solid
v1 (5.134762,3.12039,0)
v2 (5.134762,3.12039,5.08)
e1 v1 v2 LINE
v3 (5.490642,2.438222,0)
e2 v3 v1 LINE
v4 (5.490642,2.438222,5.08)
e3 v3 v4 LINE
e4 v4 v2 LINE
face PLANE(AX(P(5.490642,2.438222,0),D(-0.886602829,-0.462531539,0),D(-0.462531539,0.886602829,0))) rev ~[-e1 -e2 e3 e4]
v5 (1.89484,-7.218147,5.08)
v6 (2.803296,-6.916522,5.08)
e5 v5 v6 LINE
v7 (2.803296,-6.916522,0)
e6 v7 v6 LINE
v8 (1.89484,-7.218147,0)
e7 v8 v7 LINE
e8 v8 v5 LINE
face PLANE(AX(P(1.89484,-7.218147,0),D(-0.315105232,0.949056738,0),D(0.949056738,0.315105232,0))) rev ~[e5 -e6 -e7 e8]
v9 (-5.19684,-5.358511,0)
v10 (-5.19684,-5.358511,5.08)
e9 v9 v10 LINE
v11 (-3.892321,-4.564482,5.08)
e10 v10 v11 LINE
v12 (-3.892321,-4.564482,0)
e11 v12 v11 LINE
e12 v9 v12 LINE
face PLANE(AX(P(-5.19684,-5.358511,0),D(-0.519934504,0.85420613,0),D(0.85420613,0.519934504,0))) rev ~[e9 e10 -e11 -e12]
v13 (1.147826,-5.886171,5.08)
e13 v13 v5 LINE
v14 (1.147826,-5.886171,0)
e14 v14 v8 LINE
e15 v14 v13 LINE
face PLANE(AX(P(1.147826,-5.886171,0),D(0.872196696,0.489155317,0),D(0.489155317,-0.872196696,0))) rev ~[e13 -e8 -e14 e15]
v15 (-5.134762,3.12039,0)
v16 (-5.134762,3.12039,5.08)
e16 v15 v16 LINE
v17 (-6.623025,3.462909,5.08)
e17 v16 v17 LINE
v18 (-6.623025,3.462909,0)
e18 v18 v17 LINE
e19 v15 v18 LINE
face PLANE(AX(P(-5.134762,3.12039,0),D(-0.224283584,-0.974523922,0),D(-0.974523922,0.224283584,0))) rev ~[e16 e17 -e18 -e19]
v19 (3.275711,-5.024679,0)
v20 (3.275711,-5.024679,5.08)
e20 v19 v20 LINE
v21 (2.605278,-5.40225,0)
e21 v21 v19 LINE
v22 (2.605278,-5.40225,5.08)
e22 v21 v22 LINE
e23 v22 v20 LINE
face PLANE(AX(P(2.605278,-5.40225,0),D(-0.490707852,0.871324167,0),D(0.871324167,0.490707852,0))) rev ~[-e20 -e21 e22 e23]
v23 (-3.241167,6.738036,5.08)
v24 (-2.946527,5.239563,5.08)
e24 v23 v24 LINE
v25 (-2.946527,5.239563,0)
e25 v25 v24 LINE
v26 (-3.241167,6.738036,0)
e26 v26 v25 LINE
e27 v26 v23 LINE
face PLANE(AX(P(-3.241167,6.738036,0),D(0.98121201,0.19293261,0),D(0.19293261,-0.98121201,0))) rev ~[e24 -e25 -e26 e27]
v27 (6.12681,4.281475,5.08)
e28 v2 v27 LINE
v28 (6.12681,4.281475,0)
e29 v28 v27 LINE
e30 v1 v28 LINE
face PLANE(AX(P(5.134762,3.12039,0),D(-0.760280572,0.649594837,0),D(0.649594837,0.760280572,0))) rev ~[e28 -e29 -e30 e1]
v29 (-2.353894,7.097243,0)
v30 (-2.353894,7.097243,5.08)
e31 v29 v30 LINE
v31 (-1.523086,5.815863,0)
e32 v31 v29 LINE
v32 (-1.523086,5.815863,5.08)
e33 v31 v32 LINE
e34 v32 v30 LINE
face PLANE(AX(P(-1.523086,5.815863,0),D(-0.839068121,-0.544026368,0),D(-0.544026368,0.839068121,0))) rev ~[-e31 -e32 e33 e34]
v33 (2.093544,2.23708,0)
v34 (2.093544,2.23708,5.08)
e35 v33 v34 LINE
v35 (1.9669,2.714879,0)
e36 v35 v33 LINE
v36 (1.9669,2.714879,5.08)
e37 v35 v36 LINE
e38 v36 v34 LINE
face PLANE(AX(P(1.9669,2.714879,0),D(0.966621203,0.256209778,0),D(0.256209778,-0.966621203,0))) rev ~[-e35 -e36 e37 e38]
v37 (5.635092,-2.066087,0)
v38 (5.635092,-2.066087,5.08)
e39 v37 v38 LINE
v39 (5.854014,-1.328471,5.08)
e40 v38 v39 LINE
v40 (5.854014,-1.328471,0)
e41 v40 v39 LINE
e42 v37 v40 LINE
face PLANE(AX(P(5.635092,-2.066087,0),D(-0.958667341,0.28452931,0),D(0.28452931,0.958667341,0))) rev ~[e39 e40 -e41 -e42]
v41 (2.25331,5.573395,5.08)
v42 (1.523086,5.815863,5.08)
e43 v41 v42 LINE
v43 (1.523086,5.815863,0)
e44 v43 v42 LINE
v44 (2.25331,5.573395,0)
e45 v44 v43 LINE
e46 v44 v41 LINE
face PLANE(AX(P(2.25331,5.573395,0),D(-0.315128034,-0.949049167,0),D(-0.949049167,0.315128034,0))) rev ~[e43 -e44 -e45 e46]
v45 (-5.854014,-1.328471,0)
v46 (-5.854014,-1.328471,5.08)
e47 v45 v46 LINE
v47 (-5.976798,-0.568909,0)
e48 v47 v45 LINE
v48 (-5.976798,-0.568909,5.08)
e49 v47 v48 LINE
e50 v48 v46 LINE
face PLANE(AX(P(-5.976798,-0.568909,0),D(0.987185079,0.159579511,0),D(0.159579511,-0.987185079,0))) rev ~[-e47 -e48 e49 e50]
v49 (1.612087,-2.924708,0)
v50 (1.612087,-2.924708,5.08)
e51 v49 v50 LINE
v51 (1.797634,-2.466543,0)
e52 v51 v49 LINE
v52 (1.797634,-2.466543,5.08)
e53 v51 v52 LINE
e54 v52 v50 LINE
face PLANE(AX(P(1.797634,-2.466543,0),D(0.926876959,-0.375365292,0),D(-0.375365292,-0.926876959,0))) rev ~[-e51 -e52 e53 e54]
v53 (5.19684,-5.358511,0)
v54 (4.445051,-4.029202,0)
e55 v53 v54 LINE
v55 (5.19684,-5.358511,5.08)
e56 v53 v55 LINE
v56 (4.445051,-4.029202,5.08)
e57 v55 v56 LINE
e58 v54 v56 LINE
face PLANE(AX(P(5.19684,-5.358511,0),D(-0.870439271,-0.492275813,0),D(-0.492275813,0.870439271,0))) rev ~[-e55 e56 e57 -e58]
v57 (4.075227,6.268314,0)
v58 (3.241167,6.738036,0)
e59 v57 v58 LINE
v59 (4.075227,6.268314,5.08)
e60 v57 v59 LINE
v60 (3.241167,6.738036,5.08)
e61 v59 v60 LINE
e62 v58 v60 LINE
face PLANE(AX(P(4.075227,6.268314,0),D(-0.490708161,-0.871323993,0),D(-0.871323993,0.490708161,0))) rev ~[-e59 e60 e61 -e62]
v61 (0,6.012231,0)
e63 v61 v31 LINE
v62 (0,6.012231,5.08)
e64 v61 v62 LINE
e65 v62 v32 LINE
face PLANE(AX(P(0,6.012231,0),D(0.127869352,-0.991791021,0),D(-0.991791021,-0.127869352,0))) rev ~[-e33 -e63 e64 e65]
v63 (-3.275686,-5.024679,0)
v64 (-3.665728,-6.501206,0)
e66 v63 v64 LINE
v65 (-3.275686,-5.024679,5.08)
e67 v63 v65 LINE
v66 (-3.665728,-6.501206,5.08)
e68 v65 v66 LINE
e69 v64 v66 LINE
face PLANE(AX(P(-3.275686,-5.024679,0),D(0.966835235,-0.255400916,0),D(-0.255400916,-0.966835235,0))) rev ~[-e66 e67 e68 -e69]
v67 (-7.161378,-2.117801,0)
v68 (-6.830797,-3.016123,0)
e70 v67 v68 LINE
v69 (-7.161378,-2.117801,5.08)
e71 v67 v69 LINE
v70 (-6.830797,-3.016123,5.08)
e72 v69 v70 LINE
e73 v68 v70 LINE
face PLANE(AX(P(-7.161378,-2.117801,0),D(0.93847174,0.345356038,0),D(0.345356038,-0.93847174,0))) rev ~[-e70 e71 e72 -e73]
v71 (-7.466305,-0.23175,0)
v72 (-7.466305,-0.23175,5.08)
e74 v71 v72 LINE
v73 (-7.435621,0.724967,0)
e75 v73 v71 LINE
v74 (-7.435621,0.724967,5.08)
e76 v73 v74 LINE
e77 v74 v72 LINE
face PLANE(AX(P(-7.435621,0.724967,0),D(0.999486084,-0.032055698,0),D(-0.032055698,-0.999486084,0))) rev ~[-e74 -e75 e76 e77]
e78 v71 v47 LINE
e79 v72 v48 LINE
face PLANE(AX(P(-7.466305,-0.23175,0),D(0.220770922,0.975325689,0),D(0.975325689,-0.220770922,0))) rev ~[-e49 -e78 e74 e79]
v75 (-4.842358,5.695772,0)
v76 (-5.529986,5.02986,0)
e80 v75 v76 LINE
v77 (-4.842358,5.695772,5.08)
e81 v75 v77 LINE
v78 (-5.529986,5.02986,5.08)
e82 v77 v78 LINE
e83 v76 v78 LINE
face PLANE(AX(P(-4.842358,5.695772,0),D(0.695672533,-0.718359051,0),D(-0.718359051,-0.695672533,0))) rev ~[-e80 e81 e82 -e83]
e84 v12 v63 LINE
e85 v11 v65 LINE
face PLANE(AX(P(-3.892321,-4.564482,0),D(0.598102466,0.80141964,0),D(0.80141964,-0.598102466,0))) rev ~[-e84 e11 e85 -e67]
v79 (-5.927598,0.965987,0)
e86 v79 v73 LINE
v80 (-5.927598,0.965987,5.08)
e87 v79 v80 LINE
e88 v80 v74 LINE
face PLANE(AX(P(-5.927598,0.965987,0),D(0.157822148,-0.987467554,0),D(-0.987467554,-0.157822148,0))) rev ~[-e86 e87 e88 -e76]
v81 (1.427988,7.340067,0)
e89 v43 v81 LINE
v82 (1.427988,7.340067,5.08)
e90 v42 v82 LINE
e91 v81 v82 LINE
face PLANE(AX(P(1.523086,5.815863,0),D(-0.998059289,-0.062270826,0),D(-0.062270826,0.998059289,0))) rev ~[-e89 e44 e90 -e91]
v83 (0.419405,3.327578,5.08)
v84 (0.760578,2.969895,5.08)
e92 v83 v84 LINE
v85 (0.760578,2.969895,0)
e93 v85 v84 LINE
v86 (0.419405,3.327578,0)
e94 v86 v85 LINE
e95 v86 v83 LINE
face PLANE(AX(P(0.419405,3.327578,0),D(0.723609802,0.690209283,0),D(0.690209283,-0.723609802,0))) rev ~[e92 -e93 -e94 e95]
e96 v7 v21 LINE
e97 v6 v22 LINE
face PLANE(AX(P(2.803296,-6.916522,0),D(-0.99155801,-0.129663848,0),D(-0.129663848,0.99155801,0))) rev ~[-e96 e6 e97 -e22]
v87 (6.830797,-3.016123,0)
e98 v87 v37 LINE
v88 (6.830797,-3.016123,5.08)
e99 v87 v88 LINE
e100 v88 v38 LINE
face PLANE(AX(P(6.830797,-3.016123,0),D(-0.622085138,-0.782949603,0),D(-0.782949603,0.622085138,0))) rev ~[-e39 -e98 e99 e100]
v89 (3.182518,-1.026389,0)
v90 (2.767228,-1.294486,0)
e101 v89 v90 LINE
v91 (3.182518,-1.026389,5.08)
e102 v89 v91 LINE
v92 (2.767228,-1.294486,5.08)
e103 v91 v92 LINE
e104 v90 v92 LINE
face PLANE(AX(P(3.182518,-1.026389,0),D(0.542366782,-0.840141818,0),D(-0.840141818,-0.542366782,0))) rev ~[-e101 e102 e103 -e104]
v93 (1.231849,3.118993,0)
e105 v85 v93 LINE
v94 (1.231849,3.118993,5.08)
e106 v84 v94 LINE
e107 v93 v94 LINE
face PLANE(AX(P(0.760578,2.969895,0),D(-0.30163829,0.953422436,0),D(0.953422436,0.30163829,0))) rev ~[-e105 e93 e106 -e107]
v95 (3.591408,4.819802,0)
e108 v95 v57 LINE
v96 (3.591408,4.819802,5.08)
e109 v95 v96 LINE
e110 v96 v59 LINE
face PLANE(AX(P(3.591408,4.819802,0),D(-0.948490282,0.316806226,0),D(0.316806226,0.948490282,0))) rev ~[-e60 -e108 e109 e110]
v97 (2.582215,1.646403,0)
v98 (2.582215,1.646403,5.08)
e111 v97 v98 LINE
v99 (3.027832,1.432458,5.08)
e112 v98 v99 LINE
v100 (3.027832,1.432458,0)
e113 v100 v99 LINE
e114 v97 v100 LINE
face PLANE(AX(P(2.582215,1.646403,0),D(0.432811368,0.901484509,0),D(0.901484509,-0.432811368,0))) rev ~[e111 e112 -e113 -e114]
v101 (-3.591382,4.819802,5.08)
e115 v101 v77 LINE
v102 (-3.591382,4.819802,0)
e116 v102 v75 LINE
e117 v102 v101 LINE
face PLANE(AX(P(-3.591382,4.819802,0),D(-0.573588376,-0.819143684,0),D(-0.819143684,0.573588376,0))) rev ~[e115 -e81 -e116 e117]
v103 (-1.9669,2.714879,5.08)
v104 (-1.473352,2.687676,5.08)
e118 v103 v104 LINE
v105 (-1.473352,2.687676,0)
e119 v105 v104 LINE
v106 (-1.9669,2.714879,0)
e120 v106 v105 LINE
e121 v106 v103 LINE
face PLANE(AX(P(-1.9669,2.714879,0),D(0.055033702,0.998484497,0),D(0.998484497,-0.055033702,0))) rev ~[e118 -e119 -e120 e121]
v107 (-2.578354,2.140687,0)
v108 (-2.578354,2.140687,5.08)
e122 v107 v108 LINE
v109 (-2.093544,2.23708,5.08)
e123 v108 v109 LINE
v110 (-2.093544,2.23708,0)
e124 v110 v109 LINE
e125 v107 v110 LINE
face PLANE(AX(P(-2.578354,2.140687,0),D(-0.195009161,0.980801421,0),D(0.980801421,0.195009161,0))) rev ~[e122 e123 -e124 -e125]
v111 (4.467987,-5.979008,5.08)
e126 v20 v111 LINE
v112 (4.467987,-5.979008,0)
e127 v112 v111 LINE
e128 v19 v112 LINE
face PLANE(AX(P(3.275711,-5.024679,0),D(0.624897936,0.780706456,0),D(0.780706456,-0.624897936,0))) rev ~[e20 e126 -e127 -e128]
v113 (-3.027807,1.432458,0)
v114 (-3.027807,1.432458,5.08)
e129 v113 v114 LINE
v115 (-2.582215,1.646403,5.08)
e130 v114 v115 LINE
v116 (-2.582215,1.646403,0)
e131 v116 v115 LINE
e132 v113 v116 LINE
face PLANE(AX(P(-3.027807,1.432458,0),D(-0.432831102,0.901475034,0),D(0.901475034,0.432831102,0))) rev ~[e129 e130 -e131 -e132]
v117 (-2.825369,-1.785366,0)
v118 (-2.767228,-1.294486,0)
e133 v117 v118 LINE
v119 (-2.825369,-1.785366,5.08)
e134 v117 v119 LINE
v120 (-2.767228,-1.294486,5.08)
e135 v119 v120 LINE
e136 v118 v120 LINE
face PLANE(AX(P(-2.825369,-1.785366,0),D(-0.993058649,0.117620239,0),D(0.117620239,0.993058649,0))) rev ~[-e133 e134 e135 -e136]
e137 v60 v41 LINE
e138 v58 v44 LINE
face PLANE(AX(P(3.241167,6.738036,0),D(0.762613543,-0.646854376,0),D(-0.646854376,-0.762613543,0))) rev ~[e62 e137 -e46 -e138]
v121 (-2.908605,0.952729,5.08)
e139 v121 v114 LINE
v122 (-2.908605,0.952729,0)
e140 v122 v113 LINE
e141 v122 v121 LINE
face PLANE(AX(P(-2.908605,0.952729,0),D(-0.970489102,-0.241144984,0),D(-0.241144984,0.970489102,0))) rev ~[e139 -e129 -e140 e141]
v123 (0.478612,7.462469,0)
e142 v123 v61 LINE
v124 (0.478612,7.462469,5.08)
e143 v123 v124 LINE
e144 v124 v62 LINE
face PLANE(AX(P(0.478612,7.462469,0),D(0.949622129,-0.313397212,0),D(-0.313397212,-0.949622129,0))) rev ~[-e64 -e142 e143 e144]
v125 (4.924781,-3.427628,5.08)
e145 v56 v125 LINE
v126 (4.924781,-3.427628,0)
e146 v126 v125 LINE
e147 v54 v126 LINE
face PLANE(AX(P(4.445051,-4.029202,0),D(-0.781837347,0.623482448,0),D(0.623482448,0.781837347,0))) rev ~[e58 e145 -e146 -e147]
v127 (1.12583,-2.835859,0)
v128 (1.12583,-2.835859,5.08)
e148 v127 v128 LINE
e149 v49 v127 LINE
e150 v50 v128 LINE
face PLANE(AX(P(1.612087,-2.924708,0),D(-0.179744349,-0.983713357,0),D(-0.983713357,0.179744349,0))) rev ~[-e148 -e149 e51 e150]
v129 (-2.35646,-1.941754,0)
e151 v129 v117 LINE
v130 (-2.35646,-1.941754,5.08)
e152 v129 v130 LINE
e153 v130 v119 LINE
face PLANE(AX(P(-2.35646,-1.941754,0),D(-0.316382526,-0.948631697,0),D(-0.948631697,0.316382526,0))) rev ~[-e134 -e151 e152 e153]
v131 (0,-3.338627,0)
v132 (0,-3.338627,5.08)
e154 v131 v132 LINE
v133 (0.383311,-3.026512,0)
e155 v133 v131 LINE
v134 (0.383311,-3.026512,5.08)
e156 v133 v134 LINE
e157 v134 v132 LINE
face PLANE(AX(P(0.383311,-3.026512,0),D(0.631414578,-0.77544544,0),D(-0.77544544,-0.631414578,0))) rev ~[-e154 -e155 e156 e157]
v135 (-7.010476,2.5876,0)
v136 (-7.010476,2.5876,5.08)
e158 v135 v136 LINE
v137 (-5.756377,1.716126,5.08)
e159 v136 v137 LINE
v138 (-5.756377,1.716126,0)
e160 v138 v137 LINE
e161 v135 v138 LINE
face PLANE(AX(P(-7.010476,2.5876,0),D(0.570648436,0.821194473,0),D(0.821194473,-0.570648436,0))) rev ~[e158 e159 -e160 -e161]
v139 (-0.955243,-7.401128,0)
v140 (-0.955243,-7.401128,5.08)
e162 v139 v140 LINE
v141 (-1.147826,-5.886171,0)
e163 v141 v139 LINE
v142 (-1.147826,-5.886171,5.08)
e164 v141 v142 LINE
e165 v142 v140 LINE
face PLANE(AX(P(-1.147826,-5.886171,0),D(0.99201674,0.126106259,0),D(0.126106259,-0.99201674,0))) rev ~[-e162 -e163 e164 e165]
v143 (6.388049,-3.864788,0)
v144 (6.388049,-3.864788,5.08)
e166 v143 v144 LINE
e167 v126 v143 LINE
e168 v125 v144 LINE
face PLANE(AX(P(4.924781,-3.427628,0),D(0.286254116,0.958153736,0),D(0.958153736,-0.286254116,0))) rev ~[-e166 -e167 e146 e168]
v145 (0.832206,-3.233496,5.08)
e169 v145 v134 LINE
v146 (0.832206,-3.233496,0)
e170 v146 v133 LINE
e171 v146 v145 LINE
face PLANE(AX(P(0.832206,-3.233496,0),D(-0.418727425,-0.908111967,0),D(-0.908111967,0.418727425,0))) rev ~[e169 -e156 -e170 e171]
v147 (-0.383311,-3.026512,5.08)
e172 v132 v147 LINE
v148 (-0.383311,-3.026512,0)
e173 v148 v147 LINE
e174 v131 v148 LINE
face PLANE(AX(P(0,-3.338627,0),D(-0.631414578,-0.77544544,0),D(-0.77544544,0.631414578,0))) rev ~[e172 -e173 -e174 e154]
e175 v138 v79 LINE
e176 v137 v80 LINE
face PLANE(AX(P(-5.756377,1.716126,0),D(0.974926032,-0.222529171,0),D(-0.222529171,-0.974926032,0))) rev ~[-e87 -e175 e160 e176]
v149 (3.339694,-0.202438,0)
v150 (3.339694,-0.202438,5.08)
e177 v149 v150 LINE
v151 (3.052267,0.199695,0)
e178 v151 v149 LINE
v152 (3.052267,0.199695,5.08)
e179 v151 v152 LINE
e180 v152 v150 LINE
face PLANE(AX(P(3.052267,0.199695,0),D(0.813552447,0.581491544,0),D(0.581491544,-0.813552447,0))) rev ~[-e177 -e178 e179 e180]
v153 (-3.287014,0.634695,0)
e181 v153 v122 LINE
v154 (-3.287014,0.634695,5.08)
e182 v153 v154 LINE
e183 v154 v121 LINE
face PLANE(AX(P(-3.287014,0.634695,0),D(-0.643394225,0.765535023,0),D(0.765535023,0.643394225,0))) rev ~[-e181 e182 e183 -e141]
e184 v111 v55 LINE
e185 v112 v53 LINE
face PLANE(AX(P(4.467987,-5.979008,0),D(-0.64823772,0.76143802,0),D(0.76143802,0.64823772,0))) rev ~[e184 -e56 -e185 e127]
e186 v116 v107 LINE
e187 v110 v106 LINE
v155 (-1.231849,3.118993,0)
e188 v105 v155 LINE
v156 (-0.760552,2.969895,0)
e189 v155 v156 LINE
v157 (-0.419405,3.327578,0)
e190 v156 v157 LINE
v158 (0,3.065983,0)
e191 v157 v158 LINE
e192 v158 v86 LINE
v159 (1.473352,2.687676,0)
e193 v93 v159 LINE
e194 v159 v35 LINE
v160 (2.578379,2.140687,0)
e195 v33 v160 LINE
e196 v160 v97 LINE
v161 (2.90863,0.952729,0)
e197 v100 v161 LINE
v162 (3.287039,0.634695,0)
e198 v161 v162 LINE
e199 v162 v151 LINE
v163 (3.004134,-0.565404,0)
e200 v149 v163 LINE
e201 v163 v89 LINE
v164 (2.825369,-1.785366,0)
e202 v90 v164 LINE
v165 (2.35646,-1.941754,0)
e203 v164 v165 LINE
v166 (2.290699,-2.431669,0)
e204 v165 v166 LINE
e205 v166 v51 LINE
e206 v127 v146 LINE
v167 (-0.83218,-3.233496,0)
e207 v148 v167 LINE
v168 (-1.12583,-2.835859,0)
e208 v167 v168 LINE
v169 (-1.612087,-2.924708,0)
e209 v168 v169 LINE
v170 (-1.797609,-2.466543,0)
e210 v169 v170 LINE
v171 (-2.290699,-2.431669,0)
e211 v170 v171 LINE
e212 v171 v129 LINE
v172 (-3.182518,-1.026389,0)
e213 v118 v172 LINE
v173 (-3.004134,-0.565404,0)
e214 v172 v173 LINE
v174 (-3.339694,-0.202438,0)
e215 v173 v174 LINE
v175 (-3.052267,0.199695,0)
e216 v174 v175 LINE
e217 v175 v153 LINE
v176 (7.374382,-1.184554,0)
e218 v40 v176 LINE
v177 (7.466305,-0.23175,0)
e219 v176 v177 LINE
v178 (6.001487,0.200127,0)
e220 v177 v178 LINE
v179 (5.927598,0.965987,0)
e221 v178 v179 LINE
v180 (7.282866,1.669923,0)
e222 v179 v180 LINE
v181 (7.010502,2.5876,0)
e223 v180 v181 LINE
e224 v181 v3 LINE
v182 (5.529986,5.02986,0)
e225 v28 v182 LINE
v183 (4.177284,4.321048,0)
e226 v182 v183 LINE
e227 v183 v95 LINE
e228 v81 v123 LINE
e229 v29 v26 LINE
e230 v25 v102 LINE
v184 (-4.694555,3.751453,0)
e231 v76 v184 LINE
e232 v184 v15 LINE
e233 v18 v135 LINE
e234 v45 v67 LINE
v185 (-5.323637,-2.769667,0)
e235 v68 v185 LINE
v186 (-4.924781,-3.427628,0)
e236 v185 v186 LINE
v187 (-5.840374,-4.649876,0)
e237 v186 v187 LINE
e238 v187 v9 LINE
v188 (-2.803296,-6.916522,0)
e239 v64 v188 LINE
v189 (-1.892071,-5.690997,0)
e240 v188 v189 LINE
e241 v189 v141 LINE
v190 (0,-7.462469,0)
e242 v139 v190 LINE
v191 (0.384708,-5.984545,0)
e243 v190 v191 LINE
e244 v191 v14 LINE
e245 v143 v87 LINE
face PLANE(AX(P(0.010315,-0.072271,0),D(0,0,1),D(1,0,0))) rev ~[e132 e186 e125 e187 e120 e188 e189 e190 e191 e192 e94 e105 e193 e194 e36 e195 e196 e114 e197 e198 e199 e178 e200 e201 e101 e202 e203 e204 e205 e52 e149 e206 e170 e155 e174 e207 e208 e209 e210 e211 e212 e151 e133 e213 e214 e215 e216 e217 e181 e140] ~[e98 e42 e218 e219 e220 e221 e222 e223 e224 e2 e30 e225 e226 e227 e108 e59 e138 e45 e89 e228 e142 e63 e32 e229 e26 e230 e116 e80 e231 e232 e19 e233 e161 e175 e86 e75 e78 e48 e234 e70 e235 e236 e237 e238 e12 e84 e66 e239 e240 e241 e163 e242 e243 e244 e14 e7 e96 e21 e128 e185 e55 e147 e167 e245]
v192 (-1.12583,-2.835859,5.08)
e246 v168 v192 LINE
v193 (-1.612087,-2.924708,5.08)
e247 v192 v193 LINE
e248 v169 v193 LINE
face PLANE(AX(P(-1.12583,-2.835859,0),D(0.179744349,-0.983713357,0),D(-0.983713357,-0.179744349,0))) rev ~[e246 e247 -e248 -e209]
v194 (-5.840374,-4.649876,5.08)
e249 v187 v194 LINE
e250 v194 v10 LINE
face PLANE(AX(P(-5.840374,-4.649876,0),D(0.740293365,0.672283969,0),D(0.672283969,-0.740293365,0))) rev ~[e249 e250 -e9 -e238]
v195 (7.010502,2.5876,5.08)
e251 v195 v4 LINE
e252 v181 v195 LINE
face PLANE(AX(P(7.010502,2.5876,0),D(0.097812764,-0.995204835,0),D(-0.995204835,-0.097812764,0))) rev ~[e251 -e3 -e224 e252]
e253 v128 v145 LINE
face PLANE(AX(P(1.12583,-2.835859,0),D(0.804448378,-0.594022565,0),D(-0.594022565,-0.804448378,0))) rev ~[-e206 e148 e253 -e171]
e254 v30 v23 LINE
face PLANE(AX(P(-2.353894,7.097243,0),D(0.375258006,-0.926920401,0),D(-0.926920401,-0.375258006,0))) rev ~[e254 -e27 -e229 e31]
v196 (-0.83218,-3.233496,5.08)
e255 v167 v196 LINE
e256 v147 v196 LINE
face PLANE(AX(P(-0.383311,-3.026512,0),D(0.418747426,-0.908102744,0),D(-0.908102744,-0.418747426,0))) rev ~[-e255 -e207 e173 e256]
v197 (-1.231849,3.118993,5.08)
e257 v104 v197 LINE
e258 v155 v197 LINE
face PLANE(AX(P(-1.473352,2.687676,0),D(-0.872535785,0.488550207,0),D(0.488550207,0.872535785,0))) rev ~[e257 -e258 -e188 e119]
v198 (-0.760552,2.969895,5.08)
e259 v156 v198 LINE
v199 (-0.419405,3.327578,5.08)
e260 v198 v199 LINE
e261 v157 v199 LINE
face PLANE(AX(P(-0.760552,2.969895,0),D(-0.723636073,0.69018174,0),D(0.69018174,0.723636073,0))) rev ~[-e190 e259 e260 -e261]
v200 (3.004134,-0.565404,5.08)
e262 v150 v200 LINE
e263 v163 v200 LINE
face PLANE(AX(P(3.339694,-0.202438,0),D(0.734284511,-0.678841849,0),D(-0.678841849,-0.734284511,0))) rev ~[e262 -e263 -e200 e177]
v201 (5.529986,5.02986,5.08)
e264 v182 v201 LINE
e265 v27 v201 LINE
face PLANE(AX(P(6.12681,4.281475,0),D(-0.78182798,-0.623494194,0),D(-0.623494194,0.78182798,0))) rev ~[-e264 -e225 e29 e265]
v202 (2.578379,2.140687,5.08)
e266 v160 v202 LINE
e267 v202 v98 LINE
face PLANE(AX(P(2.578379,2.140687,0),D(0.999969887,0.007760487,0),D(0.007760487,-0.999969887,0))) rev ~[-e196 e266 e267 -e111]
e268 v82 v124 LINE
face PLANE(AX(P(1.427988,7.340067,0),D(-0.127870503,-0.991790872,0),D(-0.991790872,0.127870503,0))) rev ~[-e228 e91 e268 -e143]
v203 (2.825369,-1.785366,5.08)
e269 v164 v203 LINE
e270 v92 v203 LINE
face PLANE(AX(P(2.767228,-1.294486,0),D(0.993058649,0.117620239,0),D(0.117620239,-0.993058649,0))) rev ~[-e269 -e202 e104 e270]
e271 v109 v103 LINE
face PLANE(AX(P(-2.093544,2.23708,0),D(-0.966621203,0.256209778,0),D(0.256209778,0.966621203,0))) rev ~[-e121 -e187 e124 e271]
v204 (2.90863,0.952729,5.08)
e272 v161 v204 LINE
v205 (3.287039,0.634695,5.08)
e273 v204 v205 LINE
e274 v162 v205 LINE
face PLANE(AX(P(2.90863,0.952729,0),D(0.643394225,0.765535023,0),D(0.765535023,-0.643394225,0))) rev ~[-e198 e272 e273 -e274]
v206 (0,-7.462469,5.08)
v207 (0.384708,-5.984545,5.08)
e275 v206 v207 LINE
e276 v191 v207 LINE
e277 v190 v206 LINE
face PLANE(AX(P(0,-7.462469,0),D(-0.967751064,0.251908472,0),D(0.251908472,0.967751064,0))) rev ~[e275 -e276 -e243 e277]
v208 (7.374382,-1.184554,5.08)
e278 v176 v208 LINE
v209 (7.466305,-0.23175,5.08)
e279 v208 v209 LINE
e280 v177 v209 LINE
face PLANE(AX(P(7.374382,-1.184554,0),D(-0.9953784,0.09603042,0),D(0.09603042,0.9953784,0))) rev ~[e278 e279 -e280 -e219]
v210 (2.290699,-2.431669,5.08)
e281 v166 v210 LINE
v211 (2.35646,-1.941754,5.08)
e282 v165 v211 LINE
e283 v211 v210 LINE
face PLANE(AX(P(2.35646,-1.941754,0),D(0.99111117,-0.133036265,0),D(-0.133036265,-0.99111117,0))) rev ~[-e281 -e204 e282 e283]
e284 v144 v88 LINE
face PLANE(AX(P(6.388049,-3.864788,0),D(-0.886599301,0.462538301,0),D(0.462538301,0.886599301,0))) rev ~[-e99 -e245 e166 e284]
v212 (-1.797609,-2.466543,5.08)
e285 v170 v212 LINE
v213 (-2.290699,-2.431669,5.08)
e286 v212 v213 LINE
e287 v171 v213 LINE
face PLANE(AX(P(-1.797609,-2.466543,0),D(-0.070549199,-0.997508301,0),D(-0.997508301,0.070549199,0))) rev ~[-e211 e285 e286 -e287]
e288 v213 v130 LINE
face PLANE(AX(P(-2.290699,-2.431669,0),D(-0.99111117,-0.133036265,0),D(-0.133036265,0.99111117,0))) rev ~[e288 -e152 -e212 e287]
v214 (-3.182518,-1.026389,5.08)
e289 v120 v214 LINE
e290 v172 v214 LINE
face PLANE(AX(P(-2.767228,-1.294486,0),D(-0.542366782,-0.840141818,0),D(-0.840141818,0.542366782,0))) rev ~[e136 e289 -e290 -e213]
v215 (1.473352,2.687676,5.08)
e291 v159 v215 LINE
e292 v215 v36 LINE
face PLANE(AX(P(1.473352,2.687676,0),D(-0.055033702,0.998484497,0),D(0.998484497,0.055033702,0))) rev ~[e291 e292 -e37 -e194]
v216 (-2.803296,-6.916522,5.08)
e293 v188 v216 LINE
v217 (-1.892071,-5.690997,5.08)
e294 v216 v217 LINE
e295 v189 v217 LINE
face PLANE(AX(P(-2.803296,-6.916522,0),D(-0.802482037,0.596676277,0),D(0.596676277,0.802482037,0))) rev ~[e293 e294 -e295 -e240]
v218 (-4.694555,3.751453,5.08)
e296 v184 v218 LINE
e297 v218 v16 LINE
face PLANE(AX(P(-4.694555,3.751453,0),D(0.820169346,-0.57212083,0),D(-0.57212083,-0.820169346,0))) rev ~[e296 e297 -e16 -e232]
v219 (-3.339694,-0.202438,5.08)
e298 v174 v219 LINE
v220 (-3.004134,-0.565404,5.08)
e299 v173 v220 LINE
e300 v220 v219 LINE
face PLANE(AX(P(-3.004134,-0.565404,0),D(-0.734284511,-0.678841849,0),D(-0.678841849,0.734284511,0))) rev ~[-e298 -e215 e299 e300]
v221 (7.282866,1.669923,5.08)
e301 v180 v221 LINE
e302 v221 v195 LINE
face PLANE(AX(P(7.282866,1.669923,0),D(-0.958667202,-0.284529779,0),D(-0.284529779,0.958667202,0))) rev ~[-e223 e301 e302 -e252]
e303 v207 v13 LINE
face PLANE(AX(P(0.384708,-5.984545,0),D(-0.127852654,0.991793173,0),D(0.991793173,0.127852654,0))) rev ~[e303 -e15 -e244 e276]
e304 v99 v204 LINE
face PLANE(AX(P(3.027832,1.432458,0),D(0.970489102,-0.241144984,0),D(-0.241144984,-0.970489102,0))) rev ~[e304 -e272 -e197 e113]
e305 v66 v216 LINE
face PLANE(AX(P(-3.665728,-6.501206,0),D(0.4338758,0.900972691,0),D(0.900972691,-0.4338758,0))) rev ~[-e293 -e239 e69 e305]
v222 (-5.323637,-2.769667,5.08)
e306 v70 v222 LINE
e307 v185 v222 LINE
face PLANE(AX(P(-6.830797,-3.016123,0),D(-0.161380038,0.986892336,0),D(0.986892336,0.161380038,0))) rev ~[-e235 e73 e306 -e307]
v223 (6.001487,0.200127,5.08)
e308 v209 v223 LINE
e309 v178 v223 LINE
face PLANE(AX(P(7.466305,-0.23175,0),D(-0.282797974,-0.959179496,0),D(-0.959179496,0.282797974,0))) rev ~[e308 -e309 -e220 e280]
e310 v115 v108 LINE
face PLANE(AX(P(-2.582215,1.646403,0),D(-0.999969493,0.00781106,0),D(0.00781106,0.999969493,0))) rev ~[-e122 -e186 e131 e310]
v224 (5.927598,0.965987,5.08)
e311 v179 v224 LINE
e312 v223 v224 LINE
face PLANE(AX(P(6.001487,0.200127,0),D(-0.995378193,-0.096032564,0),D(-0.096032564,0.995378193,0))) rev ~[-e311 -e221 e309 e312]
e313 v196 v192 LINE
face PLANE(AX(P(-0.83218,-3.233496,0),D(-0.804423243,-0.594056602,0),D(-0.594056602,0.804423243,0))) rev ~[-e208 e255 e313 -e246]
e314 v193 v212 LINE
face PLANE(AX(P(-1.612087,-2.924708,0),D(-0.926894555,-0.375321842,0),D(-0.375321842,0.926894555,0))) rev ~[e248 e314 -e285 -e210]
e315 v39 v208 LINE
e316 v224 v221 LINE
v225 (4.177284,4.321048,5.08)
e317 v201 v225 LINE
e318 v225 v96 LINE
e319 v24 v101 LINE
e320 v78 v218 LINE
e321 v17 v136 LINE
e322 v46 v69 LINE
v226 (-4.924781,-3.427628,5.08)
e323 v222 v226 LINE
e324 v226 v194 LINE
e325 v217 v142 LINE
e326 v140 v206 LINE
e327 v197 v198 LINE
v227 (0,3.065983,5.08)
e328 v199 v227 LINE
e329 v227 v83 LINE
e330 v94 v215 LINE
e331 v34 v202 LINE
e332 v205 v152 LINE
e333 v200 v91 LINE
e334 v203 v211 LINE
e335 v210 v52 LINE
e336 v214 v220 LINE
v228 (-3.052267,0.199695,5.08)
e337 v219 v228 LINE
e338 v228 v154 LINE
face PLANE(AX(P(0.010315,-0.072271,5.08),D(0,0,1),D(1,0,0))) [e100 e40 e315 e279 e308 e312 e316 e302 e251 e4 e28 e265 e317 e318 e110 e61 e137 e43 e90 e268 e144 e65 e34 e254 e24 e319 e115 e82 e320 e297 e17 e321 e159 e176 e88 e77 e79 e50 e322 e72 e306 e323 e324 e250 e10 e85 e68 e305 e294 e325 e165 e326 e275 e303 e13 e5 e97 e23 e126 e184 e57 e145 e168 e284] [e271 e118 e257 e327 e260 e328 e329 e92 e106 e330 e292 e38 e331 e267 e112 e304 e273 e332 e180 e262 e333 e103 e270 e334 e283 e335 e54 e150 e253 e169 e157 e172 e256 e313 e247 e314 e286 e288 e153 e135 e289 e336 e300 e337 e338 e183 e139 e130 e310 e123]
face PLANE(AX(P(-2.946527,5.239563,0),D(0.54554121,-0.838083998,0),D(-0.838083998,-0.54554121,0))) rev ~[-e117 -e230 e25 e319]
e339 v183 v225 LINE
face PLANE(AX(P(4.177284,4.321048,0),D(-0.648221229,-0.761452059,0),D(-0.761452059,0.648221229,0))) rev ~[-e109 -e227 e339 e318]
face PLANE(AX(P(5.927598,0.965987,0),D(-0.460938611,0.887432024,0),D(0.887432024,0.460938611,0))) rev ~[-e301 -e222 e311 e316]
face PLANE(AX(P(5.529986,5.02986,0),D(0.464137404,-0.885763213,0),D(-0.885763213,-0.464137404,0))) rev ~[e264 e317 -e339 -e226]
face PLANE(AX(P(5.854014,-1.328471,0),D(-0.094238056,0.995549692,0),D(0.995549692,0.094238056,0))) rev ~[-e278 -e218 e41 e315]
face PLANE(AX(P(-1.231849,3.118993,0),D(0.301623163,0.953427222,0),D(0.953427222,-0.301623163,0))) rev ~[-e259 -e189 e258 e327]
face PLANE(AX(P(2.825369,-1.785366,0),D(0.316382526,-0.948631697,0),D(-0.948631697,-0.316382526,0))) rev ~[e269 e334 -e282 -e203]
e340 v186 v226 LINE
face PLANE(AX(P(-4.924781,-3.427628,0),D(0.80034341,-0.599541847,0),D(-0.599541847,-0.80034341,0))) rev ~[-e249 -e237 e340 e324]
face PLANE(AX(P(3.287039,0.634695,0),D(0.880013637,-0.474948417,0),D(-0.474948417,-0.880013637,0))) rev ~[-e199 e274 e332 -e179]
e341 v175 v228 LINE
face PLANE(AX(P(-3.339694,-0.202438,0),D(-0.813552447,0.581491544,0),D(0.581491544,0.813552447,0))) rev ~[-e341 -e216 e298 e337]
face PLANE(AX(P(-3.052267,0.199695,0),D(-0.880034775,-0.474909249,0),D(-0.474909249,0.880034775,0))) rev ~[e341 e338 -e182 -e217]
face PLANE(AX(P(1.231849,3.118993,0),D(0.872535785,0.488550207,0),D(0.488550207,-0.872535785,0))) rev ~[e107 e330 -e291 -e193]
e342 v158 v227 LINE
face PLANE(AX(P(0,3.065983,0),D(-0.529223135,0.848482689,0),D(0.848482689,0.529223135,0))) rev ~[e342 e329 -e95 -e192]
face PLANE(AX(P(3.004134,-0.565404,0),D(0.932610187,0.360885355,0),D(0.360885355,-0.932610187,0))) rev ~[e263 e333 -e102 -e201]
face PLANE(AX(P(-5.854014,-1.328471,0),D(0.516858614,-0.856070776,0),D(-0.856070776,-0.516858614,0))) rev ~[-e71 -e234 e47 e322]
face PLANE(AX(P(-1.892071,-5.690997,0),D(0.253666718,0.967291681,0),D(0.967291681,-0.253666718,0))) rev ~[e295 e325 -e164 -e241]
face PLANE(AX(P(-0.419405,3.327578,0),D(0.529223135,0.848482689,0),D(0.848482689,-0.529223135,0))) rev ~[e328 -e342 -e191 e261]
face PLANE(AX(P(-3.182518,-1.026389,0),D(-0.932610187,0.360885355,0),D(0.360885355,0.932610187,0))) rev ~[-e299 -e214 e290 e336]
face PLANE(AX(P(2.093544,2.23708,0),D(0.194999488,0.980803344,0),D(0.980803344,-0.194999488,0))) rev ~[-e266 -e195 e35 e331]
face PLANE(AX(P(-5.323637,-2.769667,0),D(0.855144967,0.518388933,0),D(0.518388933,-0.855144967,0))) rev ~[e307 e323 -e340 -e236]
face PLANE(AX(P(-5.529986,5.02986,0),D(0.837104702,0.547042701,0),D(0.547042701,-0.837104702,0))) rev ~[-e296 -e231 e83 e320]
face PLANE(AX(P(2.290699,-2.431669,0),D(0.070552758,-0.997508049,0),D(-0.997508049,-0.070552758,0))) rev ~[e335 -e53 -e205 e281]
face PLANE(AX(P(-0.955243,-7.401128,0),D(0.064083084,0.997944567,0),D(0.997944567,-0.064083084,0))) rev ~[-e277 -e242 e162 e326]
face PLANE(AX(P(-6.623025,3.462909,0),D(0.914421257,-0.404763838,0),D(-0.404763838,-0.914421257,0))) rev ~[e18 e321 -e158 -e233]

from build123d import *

# Parameters (mm, degrees)
F1_DEPTH = 5.08


with BuildPart() as f1:
    # F0 (on Top) → F1 (new body)
    with BuildSketch(Plane.XY):
        Polygon((0.478612, 7.462469), (0, 6.012231), (-1.523086, 5.815863), (-2.353894, 7.097243), (-3.241167, 6.738036), (-2.946527, 5.239563), (-3.591382, 4.819802), (-4.842358, 5.695772), (-5.529986, 5.02986), (-4.694555, 3.751453), (-5.134762, 3.12039), (-6.623025, 3.462909), (-7.010476, 2.5876), (-5.756377, 1.716126), (-5.927598, 0.965987), (-7.435621, 0.724967), (-7.466305, -0.23175), (-5.976798, -0.568909), (-5.854014, -1.328471), (-7.161378, -2.117801), (-6.830797, -3.016123), (-5.323637, -2.769667), (-4.924781, -3.427628), (-5.840374, -4.649876), (-5.19684, -5.358511), (-3.892321, -4.564482), (-3.275686, -5.024679), (-3.665728, -6.501206), (-2.803296, -6.916522), (-1.892071, -5.690997), (-1.147826, -5.886171), (-0.955243, -7.401128), (0, -7.462469), (0.384708, -5.984545), (1.147826, -5.886171), (1.89484, -7.218147), (2.803296, -6.916522), (2.605278, -5.40225), (3.275711, -5.024679), (4.467987, -5.979008), (5.19684, -5.358511), (4.445051, -4.029202), (4.924781, -3.427628), (6.388049, -3.864788), (6.830797, -3.016123), (5.635092, -2.066087), (5.854014, -1.328471), (7.374382, -1.184554), (7.466305, -0.23175), (6.001487, 0.200127), (5.927598, 0.965987), (7.282866, 1.669923), (7.010502, 2.5876), (5.490642, 2.438222), (5.134762, 3.12039), (6.12681, 4.281475), (5.529986, 5.02986), (4.177284, 4.321048), (3.591408, 4.819802), (4.075227, 6.268314), (3.241167, 6.738036), (2.25331, 5.573395), (1.523086, 5.815863), (1.427988, 7.340067), align=None)
        Polygon((-1.231849, 3.118993), (-0.760552, 2.969895), (-0.419405, 3.327578), (0, 3.065983), (0.419405, 3.327578), (0.760578, 2.969895), (1.231849, 3.118993), (1.473352, 2.687676), (1.9669, 2.714879), (2.093544, 2.23708), (2.578379, 2.140687), (2.582215, 1.646403), (3.027832, 1.432458), (2.90863, 0.952729), (3.287039, 0.634695), (3.052267, 0.199695), (3.339694, -0.202438), (3.004134, -0.565404), (3.182518, -1.026389), (2.767228, -1.294486), (2.825369, -1.785366), (2.35646, -1.941754), (2.290699, -2.431669), (1.797634, -2.466543), (1.612087, -2.924708), (1.12583, -2.835859), (0.832206, -3.233496), (0.383311, -3.026512), (0, -3.338627), (-0.383311, -3.026512), (-0.83218, -3.233496), (-1.12583, -2.835859), (-1.612087, -2.924708), (-1.797609, -2.466543), (-2.290699, -2.431669), (-2.35646, -1.941754), (-2.825369, -1.785366), (-2.767228, -1.294486), (-3.182518, -1.026389), (-3.004134, -0.565404), (-3.339694, -0.202438), (-3.052267, 0.199695), (-3.287014, 0.634695), (-2.908605, 0.952729), (-3.027807, 1.432458), (-2.582215, 1.646403), (-2.578354, 2.140687), (-2.093544, 2.23708), (-1.9669, 2.714879), (-1.473352, 2.687676), align=None, mode=Mode.SUBTRACT)
    extrude(amount=F1_DEPTH)


solid = f1.part
